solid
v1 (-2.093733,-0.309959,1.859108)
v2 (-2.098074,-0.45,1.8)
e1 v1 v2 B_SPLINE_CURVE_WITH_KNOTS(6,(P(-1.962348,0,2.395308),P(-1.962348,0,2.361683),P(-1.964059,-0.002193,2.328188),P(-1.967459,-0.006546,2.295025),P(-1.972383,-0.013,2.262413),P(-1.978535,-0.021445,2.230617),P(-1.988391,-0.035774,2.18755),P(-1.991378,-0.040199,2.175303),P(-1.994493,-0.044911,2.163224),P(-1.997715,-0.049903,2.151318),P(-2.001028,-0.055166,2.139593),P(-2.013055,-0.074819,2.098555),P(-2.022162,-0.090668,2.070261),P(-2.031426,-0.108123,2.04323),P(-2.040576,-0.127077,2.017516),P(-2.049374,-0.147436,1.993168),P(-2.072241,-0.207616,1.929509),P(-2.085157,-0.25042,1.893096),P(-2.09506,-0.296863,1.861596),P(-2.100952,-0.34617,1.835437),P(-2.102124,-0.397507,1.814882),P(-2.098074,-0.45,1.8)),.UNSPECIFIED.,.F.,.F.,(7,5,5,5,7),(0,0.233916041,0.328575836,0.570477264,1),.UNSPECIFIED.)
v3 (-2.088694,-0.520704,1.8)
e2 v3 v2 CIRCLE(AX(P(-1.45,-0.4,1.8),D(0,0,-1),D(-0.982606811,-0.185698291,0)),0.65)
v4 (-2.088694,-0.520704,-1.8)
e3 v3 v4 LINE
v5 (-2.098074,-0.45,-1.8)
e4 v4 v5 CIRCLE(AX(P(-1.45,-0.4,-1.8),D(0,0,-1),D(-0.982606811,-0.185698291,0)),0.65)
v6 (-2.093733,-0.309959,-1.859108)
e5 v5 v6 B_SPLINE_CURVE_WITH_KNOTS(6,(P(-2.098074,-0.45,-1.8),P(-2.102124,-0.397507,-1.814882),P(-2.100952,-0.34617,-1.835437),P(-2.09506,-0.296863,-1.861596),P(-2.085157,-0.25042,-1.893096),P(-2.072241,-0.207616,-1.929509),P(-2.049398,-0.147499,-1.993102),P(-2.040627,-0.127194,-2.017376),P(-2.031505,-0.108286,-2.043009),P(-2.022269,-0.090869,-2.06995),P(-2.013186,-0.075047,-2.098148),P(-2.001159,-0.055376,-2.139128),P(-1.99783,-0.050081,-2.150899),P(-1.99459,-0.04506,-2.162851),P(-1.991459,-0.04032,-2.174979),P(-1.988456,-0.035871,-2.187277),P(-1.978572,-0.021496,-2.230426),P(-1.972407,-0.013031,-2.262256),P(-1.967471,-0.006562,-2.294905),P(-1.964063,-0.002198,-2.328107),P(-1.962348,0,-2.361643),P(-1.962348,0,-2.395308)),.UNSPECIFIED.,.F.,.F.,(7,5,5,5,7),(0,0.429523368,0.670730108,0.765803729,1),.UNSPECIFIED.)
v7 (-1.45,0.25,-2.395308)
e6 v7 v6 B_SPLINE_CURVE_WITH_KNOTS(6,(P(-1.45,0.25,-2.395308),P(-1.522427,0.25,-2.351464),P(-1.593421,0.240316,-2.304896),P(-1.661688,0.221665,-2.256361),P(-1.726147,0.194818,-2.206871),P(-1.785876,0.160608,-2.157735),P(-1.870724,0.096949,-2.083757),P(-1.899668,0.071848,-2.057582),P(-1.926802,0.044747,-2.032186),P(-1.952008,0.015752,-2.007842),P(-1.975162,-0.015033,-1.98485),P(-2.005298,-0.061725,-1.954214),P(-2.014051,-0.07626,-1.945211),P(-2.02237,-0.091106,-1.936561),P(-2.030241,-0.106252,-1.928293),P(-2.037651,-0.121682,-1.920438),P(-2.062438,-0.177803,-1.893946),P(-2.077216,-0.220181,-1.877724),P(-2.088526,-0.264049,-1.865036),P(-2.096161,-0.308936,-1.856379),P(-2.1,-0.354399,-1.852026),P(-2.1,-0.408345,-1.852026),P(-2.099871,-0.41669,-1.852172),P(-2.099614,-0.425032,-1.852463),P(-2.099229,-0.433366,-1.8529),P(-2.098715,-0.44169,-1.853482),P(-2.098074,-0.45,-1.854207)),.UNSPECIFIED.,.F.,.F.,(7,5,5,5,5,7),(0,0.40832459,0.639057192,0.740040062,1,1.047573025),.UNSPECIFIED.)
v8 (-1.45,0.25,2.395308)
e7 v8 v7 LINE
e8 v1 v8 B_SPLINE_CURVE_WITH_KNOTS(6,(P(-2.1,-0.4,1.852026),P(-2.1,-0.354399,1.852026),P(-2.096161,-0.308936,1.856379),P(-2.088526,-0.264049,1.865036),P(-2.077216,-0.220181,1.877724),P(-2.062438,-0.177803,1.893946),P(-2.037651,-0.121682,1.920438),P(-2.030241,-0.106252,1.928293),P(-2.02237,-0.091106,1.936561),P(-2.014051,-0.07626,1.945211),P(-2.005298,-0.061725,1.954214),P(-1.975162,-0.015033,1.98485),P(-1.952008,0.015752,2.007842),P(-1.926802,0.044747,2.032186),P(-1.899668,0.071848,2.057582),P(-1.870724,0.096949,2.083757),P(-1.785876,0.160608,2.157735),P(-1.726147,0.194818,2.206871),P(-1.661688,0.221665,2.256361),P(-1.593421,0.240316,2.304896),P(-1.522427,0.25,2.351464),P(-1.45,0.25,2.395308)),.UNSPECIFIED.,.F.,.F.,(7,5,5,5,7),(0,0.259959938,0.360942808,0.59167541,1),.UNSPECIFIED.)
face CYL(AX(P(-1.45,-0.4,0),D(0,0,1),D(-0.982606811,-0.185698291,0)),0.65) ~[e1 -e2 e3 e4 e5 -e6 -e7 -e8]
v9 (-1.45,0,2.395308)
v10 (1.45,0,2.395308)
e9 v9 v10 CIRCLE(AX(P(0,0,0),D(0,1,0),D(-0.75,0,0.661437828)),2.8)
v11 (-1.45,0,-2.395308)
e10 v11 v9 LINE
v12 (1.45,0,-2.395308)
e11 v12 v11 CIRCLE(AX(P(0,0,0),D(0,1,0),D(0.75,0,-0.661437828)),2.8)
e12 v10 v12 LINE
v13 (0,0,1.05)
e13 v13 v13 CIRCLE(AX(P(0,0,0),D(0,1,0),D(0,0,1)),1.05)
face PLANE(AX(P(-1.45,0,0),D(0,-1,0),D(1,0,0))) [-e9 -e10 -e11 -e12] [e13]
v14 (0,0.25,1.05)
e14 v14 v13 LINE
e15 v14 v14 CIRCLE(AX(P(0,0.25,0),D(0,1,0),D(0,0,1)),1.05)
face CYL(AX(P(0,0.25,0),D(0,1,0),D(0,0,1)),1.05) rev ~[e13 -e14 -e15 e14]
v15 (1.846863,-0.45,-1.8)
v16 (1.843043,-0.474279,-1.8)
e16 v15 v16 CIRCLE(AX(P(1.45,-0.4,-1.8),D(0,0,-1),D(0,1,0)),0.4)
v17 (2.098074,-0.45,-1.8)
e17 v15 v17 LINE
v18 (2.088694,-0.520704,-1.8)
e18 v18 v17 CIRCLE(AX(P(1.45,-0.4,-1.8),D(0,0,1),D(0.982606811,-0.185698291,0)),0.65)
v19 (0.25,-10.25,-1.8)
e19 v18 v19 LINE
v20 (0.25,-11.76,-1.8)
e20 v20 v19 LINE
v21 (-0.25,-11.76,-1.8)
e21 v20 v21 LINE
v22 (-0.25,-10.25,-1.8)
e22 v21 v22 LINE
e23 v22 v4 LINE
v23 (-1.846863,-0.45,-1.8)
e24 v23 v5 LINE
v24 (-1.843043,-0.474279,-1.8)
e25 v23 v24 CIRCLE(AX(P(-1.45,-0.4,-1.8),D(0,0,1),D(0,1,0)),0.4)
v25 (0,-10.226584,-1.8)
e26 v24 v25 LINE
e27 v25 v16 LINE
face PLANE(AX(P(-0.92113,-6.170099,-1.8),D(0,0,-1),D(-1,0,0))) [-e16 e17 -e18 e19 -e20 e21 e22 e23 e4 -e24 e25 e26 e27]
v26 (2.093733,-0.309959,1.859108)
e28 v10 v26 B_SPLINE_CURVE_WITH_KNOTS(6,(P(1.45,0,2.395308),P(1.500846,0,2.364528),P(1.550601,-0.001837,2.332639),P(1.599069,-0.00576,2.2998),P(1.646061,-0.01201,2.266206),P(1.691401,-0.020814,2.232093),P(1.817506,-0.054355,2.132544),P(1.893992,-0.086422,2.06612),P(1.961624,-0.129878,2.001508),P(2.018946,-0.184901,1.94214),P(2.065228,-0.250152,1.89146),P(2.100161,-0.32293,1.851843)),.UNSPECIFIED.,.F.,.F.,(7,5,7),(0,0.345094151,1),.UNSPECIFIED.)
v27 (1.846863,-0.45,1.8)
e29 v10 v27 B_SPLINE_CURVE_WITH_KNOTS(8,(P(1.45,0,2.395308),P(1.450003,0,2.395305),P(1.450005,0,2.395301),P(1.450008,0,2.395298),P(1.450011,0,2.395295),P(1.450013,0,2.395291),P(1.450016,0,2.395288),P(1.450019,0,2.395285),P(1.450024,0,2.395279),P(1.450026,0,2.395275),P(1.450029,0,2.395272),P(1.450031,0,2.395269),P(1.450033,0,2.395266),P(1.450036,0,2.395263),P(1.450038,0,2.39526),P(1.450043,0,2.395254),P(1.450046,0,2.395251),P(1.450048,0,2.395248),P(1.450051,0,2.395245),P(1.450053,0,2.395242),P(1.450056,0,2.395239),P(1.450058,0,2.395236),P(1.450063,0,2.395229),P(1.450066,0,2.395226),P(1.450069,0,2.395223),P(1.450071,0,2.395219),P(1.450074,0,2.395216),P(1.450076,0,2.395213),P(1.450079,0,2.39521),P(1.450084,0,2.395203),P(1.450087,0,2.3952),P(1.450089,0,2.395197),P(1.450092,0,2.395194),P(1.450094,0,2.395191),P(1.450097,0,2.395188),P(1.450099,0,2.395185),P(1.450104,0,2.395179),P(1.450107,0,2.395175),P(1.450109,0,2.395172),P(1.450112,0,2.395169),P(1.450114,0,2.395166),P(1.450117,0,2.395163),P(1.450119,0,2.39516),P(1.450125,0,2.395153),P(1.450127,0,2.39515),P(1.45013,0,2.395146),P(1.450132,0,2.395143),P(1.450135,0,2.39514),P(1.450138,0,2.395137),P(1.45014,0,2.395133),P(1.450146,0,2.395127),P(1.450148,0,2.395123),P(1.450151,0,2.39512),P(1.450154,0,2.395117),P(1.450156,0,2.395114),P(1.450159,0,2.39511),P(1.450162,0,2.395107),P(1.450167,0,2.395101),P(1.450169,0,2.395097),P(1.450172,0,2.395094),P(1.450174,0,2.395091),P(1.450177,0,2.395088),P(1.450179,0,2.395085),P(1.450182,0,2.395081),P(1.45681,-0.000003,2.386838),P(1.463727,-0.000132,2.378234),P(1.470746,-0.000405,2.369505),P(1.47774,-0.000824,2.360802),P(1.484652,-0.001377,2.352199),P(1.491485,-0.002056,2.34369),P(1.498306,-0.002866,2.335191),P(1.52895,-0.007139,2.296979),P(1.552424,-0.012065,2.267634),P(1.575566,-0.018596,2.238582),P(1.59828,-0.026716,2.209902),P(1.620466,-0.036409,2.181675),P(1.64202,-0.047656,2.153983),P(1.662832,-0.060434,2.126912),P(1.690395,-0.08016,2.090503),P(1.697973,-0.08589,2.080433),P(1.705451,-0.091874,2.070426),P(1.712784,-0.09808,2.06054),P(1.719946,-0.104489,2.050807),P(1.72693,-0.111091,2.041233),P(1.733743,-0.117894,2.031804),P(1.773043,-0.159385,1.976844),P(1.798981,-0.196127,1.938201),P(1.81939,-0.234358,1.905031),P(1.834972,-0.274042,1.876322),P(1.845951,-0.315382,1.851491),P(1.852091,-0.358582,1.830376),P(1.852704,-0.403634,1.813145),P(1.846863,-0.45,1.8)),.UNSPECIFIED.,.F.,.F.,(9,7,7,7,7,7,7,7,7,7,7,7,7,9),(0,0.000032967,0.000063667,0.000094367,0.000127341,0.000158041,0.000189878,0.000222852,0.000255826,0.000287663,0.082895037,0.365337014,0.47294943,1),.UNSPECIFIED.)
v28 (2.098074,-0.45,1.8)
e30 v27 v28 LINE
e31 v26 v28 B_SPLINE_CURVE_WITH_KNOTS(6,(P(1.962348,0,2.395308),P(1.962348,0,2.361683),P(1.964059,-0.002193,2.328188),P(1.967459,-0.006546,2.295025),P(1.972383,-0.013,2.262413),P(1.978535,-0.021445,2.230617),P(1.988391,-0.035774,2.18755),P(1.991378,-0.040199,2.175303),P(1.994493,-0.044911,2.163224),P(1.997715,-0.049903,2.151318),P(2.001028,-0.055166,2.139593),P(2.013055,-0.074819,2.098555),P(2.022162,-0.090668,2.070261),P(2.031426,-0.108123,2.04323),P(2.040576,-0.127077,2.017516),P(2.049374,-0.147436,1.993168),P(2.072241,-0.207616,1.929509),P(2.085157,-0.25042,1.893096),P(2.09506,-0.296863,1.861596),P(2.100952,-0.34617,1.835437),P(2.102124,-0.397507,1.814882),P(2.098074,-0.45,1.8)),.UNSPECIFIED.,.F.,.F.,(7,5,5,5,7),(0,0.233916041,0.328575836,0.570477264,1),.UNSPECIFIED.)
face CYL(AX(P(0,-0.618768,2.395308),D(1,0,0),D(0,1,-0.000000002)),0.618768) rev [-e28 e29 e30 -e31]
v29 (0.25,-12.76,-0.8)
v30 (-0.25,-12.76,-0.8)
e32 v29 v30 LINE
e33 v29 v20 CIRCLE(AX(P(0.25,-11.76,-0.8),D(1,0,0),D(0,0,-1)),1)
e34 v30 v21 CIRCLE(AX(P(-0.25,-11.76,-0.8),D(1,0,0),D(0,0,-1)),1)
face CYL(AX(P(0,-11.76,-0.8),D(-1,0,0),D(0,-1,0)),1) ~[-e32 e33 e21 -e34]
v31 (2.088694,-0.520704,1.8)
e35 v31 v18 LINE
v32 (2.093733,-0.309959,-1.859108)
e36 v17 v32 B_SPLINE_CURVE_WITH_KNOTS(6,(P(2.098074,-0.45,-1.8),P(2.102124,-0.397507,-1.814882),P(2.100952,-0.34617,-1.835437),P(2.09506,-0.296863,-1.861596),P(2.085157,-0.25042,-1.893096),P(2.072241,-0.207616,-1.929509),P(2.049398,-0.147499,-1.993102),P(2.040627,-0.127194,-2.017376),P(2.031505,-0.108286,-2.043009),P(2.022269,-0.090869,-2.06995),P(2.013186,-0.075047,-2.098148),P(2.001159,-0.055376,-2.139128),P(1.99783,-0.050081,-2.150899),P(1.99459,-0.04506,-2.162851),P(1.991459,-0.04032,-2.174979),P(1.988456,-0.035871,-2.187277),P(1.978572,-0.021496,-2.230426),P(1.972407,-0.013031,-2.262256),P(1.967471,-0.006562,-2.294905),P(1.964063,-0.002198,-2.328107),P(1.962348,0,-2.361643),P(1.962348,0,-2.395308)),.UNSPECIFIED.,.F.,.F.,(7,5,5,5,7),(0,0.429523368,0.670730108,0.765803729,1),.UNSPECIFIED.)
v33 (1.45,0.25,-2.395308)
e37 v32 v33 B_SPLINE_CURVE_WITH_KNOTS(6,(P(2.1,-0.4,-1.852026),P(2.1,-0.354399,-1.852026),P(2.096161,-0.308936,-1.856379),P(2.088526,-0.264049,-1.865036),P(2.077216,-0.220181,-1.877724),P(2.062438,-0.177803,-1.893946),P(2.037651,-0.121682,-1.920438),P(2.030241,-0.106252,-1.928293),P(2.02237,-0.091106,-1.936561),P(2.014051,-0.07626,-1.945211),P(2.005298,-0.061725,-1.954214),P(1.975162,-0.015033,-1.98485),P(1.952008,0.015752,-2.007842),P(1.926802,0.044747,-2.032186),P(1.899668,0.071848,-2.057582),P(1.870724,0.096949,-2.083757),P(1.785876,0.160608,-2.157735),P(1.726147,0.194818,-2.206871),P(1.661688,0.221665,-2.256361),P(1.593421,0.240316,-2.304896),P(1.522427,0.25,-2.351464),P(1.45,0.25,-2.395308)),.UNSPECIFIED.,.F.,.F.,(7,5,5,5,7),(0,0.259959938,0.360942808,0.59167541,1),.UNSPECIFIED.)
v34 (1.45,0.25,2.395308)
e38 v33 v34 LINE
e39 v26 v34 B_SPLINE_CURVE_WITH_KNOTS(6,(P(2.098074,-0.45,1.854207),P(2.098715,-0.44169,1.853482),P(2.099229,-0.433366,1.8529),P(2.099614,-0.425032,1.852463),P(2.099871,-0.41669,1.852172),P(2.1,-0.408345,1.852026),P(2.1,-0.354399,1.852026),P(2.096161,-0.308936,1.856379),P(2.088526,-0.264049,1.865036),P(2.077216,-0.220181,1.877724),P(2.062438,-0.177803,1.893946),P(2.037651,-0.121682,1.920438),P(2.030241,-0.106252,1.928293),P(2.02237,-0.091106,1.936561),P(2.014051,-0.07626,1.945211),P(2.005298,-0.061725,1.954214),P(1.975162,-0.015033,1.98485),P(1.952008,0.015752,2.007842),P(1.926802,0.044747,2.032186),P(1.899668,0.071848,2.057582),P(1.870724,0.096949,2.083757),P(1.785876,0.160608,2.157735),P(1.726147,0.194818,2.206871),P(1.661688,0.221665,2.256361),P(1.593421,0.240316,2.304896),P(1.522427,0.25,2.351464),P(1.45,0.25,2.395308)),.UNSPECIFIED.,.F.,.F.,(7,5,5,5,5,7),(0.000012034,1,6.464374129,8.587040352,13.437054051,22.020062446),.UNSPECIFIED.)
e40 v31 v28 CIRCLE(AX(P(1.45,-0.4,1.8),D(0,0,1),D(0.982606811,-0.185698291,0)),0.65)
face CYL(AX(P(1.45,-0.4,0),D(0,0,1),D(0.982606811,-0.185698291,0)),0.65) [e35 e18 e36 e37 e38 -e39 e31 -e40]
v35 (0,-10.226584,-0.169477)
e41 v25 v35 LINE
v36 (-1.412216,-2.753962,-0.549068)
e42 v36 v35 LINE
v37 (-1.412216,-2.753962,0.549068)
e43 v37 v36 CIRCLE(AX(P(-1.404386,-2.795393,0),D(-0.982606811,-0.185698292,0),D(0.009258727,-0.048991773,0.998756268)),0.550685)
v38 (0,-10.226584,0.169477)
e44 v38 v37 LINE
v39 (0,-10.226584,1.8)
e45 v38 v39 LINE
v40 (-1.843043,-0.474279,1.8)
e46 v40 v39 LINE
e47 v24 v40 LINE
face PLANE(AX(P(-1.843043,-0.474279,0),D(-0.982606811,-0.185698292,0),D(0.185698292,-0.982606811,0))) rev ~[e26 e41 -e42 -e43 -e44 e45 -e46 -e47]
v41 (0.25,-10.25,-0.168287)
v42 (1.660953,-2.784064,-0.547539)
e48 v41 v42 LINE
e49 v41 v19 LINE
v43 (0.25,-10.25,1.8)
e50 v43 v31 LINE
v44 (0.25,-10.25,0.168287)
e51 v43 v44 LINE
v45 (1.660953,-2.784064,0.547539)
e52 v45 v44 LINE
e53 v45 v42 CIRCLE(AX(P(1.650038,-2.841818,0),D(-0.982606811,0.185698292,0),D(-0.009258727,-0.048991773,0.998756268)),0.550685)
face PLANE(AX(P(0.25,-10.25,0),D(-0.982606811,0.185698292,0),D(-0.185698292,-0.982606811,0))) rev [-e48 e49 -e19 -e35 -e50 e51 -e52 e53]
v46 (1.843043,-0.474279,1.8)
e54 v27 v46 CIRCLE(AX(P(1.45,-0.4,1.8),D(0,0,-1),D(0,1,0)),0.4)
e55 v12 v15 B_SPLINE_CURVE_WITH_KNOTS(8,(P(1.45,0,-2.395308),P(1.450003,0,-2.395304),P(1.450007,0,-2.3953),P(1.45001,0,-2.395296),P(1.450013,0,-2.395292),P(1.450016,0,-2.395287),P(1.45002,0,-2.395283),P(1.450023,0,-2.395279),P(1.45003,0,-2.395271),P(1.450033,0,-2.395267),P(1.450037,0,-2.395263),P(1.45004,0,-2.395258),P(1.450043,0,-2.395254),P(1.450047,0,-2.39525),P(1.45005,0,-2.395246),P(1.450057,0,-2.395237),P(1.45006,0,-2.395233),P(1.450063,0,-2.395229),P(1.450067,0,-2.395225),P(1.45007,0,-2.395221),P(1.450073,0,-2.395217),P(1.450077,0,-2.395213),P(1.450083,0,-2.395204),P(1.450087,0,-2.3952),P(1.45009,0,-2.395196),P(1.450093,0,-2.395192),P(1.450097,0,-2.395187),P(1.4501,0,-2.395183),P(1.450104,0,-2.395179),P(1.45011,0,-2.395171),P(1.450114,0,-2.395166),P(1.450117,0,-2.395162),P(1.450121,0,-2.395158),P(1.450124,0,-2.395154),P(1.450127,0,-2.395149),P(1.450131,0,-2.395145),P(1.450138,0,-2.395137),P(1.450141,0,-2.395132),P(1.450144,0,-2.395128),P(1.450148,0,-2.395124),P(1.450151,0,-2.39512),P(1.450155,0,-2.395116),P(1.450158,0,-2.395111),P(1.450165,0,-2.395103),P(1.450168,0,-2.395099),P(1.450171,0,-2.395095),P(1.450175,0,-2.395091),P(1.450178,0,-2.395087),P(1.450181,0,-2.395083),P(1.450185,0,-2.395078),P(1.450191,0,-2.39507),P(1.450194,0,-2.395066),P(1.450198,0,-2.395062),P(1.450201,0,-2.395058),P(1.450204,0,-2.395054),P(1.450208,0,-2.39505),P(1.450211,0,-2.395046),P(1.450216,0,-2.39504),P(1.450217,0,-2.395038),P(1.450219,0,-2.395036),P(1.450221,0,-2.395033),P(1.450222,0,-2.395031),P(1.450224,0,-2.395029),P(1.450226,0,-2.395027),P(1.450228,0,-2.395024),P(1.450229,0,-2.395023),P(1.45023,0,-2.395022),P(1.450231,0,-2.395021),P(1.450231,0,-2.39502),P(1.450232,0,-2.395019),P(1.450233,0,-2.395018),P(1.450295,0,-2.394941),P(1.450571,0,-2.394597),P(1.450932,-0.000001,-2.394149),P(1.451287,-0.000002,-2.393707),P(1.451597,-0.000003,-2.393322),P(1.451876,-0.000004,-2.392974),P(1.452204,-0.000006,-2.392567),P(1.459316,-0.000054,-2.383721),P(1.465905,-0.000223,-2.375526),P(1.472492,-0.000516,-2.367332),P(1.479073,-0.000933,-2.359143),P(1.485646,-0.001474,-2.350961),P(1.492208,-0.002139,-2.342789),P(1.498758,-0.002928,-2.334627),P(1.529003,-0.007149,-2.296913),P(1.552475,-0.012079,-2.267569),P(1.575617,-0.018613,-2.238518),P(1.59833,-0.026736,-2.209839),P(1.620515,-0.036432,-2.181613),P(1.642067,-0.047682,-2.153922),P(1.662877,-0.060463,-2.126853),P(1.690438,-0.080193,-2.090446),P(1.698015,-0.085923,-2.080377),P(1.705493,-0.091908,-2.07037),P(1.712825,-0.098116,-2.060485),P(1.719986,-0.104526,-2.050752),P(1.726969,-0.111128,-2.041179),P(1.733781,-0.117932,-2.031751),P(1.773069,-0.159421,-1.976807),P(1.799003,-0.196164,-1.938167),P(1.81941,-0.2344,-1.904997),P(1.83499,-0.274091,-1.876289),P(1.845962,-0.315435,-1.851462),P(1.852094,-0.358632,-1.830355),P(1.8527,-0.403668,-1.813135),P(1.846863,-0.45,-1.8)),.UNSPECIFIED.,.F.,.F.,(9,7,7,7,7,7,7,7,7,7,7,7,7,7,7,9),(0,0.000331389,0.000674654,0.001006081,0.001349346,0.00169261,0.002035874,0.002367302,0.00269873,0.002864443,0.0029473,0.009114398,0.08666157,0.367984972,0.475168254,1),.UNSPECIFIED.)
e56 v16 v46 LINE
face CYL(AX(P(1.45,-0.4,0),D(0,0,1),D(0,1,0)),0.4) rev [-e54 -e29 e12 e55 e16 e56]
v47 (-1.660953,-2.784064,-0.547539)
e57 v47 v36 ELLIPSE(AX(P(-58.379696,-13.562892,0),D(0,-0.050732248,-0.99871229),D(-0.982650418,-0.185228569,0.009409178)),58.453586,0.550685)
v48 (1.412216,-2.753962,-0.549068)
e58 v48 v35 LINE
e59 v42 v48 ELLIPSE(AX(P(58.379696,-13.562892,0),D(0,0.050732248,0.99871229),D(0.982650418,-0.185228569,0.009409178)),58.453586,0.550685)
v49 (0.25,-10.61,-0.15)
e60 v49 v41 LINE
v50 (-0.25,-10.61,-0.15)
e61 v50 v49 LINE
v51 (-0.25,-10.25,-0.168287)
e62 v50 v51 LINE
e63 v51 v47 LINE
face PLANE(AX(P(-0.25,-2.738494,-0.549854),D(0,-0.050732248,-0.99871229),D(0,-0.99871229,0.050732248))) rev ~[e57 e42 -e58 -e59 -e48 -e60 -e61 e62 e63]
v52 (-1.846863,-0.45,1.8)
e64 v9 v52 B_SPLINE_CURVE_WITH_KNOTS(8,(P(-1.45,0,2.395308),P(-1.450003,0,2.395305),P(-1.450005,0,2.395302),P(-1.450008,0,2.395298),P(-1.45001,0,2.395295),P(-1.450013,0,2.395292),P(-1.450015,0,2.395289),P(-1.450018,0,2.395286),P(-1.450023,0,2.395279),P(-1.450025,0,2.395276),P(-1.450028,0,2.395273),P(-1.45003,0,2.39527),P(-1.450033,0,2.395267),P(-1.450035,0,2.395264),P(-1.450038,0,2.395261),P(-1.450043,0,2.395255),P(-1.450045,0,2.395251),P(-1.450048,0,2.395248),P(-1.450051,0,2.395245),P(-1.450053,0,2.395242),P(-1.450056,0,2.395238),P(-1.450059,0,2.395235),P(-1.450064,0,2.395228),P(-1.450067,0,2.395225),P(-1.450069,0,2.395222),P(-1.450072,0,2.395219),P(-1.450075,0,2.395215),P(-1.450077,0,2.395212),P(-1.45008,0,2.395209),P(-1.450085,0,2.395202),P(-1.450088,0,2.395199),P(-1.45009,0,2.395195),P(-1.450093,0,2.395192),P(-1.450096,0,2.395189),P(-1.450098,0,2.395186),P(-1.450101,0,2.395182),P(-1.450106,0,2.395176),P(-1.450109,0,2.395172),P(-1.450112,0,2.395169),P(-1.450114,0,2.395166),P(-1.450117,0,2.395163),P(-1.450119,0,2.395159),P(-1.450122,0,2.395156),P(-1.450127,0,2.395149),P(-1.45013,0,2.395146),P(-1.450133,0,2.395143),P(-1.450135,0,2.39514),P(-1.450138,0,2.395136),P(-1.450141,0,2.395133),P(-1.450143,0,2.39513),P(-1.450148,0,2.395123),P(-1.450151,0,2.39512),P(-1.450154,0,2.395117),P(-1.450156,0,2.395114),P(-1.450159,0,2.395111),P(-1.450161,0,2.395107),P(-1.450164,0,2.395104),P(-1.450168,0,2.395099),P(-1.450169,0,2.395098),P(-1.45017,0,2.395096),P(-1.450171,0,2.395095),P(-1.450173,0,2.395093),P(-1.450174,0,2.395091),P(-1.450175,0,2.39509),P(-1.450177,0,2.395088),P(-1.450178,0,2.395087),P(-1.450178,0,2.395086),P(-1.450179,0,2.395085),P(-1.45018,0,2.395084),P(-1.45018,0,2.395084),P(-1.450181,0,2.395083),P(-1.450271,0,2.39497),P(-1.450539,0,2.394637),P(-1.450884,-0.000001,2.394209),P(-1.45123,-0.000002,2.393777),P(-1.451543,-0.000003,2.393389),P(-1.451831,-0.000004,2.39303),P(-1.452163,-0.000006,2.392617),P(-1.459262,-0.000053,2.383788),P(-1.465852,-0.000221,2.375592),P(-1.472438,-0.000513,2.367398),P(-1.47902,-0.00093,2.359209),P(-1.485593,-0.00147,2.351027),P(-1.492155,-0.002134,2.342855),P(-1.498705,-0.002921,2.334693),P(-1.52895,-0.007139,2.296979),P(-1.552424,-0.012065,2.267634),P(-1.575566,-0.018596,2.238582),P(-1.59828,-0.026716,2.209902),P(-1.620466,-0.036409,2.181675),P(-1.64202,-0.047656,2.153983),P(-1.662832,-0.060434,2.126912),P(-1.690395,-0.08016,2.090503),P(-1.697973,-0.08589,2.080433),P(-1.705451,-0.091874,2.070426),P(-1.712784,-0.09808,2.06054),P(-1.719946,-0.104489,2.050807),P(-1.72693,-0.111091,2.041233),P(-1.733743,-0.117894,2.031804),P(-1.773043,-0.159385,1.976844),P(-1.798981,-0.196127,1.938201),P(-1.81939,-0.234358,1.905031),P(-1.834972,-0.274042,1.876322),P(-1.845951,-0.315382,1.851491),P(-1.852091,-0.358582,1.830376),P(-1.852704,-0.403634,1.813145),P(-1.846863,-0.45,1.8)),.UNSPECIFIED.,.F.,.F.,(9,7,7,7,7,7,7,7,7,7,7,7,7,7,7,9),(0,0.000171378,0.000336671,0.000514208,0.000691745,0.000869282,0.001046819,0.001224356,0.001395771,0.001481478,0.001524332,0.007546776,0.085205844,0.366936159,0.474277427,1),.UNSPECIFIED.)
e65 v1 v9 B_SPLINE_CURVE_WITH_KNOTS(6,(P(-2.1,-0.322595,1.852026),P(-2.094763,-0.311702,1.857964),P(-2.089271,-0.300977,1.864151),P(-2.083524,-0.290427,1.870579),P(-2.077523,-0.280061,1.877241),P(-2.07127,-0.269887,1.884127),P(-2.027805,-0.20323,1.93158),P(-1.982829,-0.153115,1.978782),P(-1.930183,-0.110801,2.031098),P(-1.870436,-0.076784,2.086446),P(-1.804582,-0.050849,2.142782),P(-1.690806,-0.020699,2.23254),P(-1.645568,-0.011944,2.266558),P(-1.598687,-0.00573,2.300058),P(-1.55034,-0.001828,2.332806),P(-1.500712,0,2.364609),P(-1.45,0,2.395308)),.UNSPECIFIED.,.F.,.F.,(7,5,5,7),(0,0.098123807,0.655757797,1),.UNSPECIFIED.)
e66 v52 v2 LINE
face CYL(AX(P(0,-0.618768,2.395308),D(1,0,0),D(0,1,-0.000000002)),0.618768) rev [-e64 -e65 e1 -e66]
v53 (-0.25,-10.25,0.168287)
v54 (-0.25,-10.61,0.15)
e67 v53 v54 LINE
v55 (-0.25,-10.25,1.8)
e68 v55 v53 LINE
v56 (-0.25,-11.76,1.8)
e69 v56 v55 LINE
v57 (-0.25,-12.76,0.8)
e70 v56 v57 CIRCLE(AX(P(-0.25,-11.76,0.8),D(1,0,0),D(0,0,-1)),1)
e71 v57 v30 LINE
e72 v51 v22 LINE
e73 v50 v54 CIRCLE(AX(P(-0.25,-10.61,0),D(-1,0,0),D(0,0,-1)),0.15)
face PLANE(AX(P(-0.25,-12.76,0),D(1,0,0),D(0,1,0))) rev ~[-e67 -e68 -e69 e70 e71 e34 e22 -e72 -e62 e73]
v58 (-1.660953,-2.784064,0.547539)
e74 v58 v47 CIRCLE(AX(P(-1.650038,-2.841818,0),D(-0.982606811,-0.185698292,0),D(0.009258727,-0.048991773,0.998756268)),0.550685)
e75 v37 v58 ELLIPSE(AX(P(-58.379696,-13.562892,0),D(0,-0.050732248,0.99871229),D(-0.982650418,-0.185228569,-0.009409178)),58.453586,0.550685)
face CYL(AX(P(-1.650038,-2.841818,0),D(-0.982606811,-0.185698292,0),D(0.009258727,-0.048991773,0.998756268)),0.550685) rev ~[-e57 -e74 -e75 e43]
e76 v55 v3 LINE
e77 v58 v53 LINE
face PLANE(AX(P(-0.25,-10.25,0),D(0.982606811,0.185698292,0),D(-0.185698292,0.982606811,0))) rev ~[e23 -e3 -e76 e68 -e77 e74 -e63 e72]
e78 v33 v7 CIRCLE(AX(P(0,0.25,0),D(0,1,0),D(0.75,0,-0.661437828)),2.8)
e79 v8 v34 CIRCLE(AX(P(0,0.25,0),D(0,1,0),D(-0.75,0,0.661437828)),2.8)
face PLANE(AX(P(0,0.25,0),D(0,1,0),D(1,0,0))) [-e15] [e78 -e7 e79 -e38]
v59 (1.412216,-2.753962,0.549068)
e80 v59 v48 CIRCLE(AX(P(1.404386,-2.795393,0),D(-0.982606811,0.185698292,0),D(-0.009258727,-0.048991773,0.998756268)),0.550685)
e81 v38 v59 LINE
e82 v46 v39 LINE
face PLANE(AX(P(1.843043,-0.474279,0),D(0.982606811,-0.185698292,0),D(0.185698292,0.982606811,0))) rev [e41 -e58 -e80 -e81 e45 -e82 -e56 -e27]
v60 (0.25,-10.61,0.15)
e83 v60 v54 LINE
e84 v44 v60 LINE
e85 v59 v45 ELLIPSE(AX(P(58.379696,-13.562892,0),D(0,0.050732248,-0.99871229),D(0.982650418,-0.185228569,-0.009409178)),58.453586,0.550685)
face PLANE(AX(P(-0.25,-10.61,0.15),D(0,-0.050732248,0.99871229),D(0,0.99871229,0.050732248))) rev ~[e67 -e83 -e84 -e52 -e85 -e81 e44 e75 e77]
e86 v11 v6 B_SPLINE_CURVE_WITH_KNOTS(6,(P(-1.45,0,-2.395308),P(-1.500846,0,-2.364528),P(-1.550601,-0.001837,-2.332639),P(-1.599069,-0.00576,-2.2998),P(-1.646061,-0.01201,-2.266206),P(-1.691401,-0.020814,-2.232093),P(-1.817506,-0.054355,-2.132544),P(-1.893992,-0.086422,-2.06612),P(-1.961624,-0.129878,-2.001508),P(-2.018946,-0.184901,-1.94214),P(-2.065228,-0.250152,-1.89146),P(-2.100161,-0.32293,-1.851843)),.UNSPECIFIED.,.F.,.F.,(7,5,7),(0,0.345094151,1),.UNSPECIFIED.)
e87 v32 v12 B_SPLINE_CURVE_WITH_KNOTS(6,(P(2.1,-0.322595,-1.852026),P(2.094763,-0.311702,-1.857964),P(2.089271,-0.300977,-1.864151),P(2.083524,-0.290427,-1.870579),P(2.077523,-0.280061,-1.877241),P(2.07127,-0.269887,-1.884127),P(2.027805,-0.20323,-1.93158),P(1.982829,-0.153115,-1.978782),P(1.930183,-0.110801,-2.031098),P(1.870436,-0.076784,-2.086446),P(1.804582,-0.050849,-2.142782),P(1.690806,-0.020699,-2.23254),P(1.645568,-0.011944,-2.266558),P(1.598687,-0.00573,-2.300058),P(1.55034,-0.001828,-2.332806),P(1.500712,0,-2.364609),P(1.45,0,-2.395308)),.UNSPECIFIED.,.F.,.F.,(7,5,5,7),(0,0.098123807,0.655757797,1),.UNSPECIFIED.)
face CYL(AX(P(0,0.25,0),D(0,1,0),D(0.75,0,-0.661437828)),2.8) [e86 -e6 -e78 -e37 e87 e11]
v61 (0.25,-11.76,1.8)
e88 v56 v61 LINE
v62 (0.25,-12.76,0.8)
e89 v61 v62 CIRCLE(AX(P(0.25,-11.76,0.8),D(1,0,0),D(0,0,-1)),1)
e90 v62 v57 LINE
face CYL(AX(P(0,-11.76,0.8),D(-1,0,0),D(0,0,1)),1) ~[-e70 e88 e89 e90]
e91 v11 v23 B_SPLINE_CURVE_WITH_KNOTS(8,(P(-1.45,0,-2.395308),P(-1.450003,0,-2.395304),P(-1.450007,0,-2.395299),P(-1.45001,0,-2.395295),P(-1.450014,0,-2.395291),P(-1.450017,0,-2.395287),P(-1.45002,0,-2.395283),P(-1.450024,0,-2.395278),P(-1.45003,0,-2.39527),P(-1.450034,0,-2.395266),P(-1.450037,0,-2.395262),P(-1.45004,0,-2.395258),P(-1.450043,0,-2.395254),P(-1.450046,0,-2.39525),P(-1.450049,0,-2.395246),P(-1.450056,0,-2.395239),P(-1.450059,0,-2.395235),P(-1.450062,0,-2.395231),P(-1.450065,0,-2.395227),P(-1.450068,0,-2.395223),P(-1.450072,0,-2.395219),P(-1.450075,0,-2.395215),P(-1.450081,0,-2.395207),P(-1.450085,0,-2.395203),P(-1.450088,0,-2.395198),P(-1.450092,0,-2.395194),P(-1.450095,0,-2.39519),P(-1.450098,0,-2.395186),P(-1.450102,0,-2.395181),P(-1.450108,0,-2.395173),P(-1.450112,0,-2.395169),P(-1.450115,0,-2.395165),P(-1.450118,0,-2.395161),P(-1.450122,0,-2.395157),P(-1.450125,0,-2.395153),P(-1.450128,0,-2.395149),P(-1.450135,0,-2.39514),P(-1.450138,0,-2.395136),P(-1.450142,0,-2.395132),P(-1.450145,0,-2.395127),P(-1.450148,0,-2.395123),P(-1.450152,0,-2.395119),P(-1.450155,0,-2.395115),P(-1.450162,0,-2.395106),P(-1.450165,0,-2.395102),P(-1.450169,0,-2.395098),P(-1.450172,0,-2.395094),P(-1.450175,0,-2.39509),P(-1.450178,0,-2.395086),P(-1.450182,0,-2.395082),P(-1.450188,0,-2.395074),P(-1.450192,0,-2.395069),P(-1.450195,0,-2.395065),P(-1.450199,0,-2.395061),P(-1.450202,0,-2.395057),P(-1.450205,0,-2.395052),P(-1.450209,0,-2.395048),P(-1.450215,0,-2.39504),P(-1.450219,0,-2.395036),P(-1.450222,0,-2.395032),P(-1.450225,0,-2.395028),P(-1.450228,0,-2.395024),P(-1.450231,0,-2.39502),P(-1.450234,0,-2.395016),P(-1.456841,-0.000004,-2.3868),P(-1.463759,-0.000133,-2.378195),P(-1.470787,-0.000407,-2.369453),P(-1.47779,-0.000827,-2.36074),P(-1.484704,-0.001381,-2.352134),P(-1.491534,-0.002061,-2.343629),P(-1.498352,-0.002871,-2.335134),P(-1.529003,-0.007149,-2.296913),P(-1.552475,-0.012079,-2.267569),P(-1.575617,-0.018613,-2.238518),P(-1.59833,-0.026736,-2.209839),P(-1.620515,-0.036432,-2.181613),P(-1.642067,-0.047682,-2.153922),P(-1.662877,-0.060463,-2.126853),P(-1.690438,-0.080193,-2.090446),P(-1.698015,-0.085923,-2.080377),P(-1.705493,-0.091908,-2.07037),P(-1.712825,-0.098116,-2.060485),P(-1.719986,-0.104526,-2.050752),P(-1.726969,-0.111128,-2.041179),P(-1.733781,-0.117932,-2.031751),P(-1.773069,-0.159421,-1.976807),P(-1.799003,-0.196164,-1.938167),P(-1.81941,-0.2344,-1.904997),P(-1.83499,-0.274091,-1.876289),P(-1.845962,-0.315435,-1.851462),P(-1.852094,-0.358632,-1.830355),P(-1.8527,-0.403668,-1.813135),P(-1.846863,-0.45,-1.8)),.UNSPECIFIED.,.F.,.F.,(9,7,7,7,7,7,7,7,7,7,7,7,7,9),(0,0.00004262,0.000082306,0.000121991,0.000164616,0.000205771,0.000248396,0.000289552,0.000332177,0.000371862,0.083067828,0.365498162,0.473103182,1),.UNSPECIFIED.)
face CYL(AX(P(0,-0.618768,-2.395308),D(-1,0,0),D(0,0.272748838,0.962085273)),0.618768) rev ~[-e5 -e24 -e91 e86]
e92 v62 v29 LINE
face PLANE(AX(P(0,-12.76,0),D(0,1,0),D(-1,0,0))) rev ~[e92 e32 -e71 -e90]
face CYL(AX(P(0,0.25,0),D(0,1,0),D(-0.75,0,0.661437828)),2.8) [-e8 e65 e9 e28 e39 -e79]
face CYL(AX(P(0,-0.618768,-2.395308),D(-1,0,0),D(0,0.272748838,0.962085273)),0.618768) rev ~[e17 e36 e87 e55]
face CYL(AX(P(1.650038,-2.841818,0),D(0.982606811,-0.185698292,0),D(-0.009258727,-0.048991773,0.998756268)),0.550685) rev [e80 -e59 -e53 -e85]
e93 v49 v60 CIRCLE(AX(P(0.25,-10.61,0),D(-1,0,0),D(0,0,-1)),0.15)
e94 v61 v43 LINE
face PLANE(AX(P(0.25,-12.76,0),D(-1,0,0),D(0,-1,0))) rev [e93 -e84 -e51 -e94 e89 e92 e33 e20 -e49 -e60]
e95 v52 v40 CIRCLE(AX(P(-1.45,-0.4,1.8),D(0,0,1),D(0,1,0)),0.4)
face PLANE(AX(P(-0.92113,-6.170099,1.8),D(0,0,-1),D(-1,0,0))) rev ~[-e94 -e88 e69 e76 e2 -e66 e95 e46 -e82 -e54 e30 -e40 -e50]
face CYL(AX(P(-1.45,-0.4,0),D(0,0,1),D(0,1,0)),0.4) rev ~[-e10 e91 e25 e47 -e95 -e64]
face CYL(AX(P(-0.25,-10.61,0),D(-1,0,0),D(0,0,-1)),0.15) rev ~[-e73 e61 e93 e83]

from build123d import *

# Parameters (mm, degrees)
ESBO_O1_R                = 1.05
RESSALTO_EXTRUS_O1_DEPTH = 0.25
RESSALTO_EXTRUS_O2_DEPTH = 1.8
FILETE1_R                = 1
RESSALTO_EXTRUS_O4_DEPTH = 2
CORTE_EXTRUS_O6_DEPTH    = 5
ESBO_O5_R                = 1.05
RESSALTO_EXTRUS_O3_DEPTH = 0.7
CORTE_EXTRUS_O1_DEPTH    = 5
CORTE_EXTRUS_O2_DEPTH    = 15


with BuildPart() as part:
    # Esboço1 → Ressalto-extrusão1 (new body)
    with BuildSketch(Plane(origin=(0, 0, 0), x_dir=(1, 0, 0), z_dir=(0, 1, 0))):
        with BuildLine():
            Line((2.079062289, 1.8), (14, 1.8))
            ThreePointArc((14, 1.8), (14.707106781, 1.507106781), (15, 0.8))
            Line((15, 0.8), (15, -0.8))
            ThreePointArc((15, -0.8), (14.707106781, -1.507106781), (14, -1.8))
            Line((14, -1.8), (2.079062289, -1.8))
            ThreePointArc((2.079062289, -1.8), (0, -2.75), (-2.079062289, -1.8))
            Line((-2.079062289, -1.8), (-14, -1.8))
            ThreePointArc((-14, -1.8), (-14.707106781, -1.507106781), (-15, -0.8))
            Line((-15, -0.8), (-15, 0.8))
            ThreePointArc((-15, 0.8), (-14.707106781, 1.507106781), (-14, 1.8))
            Line((-14, 1.8), (-2.079062289, 1.8))
            ThreePointArc((-2.079062289, 1.8), (0, 2.75), (2.079062289, 1.8))
        make_face()
        with Locations(Location((0, 0, 0), (0, 0, 270))):
            Circle(ESBO_O1_R, mode=Mode.SUBTRACT)
        with BuildLine():
            Line((4.978511643, 0.549893952), (12.857420168, 0.15))
            ThreePointArc((12.857420168, 0.15), (13, 0), (12.857420168, -0.15))
            Line((12.857420168, -0.15), (4.978511643, -0.549893952))
            ThreePointArc((4.978511643, -0.549893952), (4.4, 0), (4.978511643, 0.549893952))
        make_face(mode=Mode.SUBTRACT)
        with BuildLine():
            Line((-12.857420168, -0.15), (-4.978511643, -0.549893952))
            ThreePointArc((-4.978511643, -0.549893952), (-4.4, 0), (-4.978511643, 0.549893952))
            Line((-4.978511643, 0.549893952), (-12.857420168, 0.15))
            ThreePointArc((-12.857420168, 0.15), (-13, 0), (-12.857420168, -0.15))
        make_face(mode=Mode.SUBTRACT)
    extrude(amount=RESSALTO_EXTRUS_O1_DEPTH)


with BuildPart() as body_2:
    # Esboço4 → Ressalto-extrusão2 (new, symmetric)
    with BuildSketch(Plane.XY):
        with BuildLine():
            Line((0, -10.226584075), (0, -12.76))
            Line((0, -12.76), (-0.25, -12.76))
            Line((-0.25, -12.76), (-0.25, -10.25))
            Line((-0.25, -10.25), (-2.088694427, -0.52070389))
            ThreePointArc((-2.088694427, -0.52070389), (-1.950478535, 0.014754428), (-1.45, 0.25))
            Line((-1.45, 0.25), (-1.45, 0))
            ThreePointArc((-1.45, 0), (-1.757986791, -0.144766506), (-1.843042724, -0.474279317))
            Line((-1.843042724, -0.474279317), (0, -10.226584075))
        make_face()
    extrude(amount=RESSALTO_EXTRUS_O2_DEPTH, both=True)

    # Filete1
    filete1_edges = [body_2.edges().sort_by_distance(p)[0] for p in [
        (-0.125, -12.76, 1.8),
        (-0.125, -12.76, -1.8),
    ]]
    fillet(filete1_edges, radius=FILETE1_R)


with BuildPart() as body_3:
    # Esboço16 → Ressalto-extrusão4 (new, symmetric)
    with BuildSketch(Plane.ZY.offset(0.25)):
        with BuildLine():
            Line((0.15, -10.61), (0.549854071, -2.738494336))
            ThreePointArc((0.549854071, -2.738494336), (0, -2.16), (-0.549854071, -2.738494336))
            Line((-0.549854071, -2.738494336), (-0.15, -10.61))
            ThreePointArc((-0.15, -10.61), (0, -10.76), (0.15, -10.61))
        make_face()
    extrude(amount=RESSALTO_EXTRUS_O4_DEPTH, both=True)

    # Esboço17 → Corte-extrusão6 (cut, symmetric)
    with BuildSketch(Plane(origin=(-2.111680199, -0.399076621, 0), x_dir=(0, 0, 1), z_dir=(-0.9826068107203668, -0.18569829166136476, 0))):
        with BuildLine():
            Line((-0.55, -2.513436729), (-0.175, -10.025295237))
            Line((-0.175, -10.025295237), (-1.291075027, -10.025295237))
            Line((-1.291075027, -10.025295237), (-1.291075027, -1.561962936))
            Line((-1.291075027, -1.561962936), (1.201455883, -1.561962936))
            Line((1.201455883, -1.561962936), (1.201455883, -10.025295237))
            Line((1.201455883, -10.025295237), (0.175, -10.025295237))
            Line((0.175, -10.025295237), (0.55, -2.513436729))
            ThreePointArc((0.55, -2.513436729), (0, -1.935295237), (-0.55, -2.513436729))
        make_face()
    extrude(amount=CORTE_EXTRUS_O6_DEPTH, both=True, mode=Mode.SUBTRACT)


with BuildPart() as body_2_1:
    add(body_2.part)

    # Combinar2: cut body 3
    add(body_3.part, mode=Mode.SUBTRACT)


with BuildPart() as body_3_2:
    # Espelhar1: mirrored copy
    add(body_2_1.part.mirror(Plane(origin=(0, 0, 0), x_dir=(0, 0, 1), z_dir=(1, 0, 0))))


with BuildPart() as body_4:
    # Esboço5 → Ressalto-extrusão3 (new body)
    with BuildSketch(Plane(origin=(0, 0.25, 0), x_dir=(1, 0, 0), z_dir=(0, 1, 0))):
        with BuildLine():
            Line((-2.1, 1.852025918), (-2.1, -1.852025918))
            ThreePointArc((-2.1, -1.852025918), (0, -2.8), (2.1, -1.852025918))
            Line((2.1, -1.852025918), (2.1, 1.852025918))
            ThreePointArc((2.1, 1.852025918), (0, 2.8), (-2.1, 1.852025918))
        make_face()
        with Locations(Location((0, 0, 0), (0, 0, 270))):
            Circle(ESBO_O5_R, mode=Mode.SUBTRACT)
    extrude(amount=-RESSALTO_EXTRUS_O3_DEPTH)

    # Esboço6 → Corte-extrusão1 (cut, symmetric)
    with BuildSketch(Plane.XY):
        with BuildLine():
            Line((-1.45, 0.25), (-1.45, 0.597201145))
            Line((-1.45, 0.597201145), (-2.428627535, 0.597201145))
            Line((-2.428627535, 0.597201145), (-2.428627535, -0.52070389))
            Line((-2.428627535, -0.52070389), (-2.088694427, -0.52070389))
            ThreePointArc((-2.088694427, -0.52070389), (-1.950478535, 0.014754428), (-1.45, 0.25))
        make_face()
        with BuildLine():
            Line((1.45, 0.25), (1.45, 0.729701811))
            Line((1.45, 0.729701811), (2.688745217, 0.729701811))
            Line((2.688745217, 0.729701811), (2.688745217, -0.52070389))
            Line((2.688745217, -0.52070389), (2.088694427, -0.52070389))
            ThreePointArc((2.088694427, -0.52070389), (1.950478535, 0.014754428), (1.45, 0.25))
        make_face()
        with BuildLine():
            Line((-1.45, 0), (1.45, 0))
            ThreePointArc((1.45, 0), (1.757986791, -0.144766506), (1.843042724, -0.474279317))
            Line((1.843042724, -0.474279317), (-1.843042724, -0.474279317))
            ThreePointArc((-1.843042724, -0.474279317), (-1.757986791, -0.144766506), (-1.45, 0))
        make_face()
    extrude(amount=CORTE_EXTRUS_O1_DEPTH, both=True, mode=Mode.SUBTRACT)

    # Combinar1: union body 3 2, body 2
    add(body_3_2.part)
    add(body_2_1.part)

    # Esboço7 → Corte-extrusão2 (cut, symmetric)
    with BuildSketch(Plane(origin=(0, 0, 0), x_dir=(0, 0, -1), z_dir=(1, 0, 0))):
        with BuildLine():
            Line((2.395307913, 0), (3.16000301, 0))
            Line((3.16000301, 0), (3.16000301, -0.618768346))
            Line((3.16000301, -0.618768346), (1.8, -0.618768346))
            Line((1.8, -0.618768346), (1.8, -0.45))
            ThreePointArc((1.8, -0.45), (2.022182093, -0.125157783), (2.395307913, 0))
        make_face()
        with BuildLine():
            Line((-1.8, -0.45), (-1.8, -0.594962274))
            Line((-1.8, -0.594962274), (-2.989404484, -0.594962274))
            Line((-2.989404484, -0.594962274), (-2.989404484, 0))
            Line((-2.989404484, 0), (-2.395307913, 0))
            ThreePointArc((-2.395307913, 0), (-2.022182093, -0.125157783), (-1.8, -0.45))
        make_face()
    extrude(amount=CORTE_EXTRUS_O2_DEPTH, both=True, mode=Mode.SUBTRACT)


solid = body_4.part
